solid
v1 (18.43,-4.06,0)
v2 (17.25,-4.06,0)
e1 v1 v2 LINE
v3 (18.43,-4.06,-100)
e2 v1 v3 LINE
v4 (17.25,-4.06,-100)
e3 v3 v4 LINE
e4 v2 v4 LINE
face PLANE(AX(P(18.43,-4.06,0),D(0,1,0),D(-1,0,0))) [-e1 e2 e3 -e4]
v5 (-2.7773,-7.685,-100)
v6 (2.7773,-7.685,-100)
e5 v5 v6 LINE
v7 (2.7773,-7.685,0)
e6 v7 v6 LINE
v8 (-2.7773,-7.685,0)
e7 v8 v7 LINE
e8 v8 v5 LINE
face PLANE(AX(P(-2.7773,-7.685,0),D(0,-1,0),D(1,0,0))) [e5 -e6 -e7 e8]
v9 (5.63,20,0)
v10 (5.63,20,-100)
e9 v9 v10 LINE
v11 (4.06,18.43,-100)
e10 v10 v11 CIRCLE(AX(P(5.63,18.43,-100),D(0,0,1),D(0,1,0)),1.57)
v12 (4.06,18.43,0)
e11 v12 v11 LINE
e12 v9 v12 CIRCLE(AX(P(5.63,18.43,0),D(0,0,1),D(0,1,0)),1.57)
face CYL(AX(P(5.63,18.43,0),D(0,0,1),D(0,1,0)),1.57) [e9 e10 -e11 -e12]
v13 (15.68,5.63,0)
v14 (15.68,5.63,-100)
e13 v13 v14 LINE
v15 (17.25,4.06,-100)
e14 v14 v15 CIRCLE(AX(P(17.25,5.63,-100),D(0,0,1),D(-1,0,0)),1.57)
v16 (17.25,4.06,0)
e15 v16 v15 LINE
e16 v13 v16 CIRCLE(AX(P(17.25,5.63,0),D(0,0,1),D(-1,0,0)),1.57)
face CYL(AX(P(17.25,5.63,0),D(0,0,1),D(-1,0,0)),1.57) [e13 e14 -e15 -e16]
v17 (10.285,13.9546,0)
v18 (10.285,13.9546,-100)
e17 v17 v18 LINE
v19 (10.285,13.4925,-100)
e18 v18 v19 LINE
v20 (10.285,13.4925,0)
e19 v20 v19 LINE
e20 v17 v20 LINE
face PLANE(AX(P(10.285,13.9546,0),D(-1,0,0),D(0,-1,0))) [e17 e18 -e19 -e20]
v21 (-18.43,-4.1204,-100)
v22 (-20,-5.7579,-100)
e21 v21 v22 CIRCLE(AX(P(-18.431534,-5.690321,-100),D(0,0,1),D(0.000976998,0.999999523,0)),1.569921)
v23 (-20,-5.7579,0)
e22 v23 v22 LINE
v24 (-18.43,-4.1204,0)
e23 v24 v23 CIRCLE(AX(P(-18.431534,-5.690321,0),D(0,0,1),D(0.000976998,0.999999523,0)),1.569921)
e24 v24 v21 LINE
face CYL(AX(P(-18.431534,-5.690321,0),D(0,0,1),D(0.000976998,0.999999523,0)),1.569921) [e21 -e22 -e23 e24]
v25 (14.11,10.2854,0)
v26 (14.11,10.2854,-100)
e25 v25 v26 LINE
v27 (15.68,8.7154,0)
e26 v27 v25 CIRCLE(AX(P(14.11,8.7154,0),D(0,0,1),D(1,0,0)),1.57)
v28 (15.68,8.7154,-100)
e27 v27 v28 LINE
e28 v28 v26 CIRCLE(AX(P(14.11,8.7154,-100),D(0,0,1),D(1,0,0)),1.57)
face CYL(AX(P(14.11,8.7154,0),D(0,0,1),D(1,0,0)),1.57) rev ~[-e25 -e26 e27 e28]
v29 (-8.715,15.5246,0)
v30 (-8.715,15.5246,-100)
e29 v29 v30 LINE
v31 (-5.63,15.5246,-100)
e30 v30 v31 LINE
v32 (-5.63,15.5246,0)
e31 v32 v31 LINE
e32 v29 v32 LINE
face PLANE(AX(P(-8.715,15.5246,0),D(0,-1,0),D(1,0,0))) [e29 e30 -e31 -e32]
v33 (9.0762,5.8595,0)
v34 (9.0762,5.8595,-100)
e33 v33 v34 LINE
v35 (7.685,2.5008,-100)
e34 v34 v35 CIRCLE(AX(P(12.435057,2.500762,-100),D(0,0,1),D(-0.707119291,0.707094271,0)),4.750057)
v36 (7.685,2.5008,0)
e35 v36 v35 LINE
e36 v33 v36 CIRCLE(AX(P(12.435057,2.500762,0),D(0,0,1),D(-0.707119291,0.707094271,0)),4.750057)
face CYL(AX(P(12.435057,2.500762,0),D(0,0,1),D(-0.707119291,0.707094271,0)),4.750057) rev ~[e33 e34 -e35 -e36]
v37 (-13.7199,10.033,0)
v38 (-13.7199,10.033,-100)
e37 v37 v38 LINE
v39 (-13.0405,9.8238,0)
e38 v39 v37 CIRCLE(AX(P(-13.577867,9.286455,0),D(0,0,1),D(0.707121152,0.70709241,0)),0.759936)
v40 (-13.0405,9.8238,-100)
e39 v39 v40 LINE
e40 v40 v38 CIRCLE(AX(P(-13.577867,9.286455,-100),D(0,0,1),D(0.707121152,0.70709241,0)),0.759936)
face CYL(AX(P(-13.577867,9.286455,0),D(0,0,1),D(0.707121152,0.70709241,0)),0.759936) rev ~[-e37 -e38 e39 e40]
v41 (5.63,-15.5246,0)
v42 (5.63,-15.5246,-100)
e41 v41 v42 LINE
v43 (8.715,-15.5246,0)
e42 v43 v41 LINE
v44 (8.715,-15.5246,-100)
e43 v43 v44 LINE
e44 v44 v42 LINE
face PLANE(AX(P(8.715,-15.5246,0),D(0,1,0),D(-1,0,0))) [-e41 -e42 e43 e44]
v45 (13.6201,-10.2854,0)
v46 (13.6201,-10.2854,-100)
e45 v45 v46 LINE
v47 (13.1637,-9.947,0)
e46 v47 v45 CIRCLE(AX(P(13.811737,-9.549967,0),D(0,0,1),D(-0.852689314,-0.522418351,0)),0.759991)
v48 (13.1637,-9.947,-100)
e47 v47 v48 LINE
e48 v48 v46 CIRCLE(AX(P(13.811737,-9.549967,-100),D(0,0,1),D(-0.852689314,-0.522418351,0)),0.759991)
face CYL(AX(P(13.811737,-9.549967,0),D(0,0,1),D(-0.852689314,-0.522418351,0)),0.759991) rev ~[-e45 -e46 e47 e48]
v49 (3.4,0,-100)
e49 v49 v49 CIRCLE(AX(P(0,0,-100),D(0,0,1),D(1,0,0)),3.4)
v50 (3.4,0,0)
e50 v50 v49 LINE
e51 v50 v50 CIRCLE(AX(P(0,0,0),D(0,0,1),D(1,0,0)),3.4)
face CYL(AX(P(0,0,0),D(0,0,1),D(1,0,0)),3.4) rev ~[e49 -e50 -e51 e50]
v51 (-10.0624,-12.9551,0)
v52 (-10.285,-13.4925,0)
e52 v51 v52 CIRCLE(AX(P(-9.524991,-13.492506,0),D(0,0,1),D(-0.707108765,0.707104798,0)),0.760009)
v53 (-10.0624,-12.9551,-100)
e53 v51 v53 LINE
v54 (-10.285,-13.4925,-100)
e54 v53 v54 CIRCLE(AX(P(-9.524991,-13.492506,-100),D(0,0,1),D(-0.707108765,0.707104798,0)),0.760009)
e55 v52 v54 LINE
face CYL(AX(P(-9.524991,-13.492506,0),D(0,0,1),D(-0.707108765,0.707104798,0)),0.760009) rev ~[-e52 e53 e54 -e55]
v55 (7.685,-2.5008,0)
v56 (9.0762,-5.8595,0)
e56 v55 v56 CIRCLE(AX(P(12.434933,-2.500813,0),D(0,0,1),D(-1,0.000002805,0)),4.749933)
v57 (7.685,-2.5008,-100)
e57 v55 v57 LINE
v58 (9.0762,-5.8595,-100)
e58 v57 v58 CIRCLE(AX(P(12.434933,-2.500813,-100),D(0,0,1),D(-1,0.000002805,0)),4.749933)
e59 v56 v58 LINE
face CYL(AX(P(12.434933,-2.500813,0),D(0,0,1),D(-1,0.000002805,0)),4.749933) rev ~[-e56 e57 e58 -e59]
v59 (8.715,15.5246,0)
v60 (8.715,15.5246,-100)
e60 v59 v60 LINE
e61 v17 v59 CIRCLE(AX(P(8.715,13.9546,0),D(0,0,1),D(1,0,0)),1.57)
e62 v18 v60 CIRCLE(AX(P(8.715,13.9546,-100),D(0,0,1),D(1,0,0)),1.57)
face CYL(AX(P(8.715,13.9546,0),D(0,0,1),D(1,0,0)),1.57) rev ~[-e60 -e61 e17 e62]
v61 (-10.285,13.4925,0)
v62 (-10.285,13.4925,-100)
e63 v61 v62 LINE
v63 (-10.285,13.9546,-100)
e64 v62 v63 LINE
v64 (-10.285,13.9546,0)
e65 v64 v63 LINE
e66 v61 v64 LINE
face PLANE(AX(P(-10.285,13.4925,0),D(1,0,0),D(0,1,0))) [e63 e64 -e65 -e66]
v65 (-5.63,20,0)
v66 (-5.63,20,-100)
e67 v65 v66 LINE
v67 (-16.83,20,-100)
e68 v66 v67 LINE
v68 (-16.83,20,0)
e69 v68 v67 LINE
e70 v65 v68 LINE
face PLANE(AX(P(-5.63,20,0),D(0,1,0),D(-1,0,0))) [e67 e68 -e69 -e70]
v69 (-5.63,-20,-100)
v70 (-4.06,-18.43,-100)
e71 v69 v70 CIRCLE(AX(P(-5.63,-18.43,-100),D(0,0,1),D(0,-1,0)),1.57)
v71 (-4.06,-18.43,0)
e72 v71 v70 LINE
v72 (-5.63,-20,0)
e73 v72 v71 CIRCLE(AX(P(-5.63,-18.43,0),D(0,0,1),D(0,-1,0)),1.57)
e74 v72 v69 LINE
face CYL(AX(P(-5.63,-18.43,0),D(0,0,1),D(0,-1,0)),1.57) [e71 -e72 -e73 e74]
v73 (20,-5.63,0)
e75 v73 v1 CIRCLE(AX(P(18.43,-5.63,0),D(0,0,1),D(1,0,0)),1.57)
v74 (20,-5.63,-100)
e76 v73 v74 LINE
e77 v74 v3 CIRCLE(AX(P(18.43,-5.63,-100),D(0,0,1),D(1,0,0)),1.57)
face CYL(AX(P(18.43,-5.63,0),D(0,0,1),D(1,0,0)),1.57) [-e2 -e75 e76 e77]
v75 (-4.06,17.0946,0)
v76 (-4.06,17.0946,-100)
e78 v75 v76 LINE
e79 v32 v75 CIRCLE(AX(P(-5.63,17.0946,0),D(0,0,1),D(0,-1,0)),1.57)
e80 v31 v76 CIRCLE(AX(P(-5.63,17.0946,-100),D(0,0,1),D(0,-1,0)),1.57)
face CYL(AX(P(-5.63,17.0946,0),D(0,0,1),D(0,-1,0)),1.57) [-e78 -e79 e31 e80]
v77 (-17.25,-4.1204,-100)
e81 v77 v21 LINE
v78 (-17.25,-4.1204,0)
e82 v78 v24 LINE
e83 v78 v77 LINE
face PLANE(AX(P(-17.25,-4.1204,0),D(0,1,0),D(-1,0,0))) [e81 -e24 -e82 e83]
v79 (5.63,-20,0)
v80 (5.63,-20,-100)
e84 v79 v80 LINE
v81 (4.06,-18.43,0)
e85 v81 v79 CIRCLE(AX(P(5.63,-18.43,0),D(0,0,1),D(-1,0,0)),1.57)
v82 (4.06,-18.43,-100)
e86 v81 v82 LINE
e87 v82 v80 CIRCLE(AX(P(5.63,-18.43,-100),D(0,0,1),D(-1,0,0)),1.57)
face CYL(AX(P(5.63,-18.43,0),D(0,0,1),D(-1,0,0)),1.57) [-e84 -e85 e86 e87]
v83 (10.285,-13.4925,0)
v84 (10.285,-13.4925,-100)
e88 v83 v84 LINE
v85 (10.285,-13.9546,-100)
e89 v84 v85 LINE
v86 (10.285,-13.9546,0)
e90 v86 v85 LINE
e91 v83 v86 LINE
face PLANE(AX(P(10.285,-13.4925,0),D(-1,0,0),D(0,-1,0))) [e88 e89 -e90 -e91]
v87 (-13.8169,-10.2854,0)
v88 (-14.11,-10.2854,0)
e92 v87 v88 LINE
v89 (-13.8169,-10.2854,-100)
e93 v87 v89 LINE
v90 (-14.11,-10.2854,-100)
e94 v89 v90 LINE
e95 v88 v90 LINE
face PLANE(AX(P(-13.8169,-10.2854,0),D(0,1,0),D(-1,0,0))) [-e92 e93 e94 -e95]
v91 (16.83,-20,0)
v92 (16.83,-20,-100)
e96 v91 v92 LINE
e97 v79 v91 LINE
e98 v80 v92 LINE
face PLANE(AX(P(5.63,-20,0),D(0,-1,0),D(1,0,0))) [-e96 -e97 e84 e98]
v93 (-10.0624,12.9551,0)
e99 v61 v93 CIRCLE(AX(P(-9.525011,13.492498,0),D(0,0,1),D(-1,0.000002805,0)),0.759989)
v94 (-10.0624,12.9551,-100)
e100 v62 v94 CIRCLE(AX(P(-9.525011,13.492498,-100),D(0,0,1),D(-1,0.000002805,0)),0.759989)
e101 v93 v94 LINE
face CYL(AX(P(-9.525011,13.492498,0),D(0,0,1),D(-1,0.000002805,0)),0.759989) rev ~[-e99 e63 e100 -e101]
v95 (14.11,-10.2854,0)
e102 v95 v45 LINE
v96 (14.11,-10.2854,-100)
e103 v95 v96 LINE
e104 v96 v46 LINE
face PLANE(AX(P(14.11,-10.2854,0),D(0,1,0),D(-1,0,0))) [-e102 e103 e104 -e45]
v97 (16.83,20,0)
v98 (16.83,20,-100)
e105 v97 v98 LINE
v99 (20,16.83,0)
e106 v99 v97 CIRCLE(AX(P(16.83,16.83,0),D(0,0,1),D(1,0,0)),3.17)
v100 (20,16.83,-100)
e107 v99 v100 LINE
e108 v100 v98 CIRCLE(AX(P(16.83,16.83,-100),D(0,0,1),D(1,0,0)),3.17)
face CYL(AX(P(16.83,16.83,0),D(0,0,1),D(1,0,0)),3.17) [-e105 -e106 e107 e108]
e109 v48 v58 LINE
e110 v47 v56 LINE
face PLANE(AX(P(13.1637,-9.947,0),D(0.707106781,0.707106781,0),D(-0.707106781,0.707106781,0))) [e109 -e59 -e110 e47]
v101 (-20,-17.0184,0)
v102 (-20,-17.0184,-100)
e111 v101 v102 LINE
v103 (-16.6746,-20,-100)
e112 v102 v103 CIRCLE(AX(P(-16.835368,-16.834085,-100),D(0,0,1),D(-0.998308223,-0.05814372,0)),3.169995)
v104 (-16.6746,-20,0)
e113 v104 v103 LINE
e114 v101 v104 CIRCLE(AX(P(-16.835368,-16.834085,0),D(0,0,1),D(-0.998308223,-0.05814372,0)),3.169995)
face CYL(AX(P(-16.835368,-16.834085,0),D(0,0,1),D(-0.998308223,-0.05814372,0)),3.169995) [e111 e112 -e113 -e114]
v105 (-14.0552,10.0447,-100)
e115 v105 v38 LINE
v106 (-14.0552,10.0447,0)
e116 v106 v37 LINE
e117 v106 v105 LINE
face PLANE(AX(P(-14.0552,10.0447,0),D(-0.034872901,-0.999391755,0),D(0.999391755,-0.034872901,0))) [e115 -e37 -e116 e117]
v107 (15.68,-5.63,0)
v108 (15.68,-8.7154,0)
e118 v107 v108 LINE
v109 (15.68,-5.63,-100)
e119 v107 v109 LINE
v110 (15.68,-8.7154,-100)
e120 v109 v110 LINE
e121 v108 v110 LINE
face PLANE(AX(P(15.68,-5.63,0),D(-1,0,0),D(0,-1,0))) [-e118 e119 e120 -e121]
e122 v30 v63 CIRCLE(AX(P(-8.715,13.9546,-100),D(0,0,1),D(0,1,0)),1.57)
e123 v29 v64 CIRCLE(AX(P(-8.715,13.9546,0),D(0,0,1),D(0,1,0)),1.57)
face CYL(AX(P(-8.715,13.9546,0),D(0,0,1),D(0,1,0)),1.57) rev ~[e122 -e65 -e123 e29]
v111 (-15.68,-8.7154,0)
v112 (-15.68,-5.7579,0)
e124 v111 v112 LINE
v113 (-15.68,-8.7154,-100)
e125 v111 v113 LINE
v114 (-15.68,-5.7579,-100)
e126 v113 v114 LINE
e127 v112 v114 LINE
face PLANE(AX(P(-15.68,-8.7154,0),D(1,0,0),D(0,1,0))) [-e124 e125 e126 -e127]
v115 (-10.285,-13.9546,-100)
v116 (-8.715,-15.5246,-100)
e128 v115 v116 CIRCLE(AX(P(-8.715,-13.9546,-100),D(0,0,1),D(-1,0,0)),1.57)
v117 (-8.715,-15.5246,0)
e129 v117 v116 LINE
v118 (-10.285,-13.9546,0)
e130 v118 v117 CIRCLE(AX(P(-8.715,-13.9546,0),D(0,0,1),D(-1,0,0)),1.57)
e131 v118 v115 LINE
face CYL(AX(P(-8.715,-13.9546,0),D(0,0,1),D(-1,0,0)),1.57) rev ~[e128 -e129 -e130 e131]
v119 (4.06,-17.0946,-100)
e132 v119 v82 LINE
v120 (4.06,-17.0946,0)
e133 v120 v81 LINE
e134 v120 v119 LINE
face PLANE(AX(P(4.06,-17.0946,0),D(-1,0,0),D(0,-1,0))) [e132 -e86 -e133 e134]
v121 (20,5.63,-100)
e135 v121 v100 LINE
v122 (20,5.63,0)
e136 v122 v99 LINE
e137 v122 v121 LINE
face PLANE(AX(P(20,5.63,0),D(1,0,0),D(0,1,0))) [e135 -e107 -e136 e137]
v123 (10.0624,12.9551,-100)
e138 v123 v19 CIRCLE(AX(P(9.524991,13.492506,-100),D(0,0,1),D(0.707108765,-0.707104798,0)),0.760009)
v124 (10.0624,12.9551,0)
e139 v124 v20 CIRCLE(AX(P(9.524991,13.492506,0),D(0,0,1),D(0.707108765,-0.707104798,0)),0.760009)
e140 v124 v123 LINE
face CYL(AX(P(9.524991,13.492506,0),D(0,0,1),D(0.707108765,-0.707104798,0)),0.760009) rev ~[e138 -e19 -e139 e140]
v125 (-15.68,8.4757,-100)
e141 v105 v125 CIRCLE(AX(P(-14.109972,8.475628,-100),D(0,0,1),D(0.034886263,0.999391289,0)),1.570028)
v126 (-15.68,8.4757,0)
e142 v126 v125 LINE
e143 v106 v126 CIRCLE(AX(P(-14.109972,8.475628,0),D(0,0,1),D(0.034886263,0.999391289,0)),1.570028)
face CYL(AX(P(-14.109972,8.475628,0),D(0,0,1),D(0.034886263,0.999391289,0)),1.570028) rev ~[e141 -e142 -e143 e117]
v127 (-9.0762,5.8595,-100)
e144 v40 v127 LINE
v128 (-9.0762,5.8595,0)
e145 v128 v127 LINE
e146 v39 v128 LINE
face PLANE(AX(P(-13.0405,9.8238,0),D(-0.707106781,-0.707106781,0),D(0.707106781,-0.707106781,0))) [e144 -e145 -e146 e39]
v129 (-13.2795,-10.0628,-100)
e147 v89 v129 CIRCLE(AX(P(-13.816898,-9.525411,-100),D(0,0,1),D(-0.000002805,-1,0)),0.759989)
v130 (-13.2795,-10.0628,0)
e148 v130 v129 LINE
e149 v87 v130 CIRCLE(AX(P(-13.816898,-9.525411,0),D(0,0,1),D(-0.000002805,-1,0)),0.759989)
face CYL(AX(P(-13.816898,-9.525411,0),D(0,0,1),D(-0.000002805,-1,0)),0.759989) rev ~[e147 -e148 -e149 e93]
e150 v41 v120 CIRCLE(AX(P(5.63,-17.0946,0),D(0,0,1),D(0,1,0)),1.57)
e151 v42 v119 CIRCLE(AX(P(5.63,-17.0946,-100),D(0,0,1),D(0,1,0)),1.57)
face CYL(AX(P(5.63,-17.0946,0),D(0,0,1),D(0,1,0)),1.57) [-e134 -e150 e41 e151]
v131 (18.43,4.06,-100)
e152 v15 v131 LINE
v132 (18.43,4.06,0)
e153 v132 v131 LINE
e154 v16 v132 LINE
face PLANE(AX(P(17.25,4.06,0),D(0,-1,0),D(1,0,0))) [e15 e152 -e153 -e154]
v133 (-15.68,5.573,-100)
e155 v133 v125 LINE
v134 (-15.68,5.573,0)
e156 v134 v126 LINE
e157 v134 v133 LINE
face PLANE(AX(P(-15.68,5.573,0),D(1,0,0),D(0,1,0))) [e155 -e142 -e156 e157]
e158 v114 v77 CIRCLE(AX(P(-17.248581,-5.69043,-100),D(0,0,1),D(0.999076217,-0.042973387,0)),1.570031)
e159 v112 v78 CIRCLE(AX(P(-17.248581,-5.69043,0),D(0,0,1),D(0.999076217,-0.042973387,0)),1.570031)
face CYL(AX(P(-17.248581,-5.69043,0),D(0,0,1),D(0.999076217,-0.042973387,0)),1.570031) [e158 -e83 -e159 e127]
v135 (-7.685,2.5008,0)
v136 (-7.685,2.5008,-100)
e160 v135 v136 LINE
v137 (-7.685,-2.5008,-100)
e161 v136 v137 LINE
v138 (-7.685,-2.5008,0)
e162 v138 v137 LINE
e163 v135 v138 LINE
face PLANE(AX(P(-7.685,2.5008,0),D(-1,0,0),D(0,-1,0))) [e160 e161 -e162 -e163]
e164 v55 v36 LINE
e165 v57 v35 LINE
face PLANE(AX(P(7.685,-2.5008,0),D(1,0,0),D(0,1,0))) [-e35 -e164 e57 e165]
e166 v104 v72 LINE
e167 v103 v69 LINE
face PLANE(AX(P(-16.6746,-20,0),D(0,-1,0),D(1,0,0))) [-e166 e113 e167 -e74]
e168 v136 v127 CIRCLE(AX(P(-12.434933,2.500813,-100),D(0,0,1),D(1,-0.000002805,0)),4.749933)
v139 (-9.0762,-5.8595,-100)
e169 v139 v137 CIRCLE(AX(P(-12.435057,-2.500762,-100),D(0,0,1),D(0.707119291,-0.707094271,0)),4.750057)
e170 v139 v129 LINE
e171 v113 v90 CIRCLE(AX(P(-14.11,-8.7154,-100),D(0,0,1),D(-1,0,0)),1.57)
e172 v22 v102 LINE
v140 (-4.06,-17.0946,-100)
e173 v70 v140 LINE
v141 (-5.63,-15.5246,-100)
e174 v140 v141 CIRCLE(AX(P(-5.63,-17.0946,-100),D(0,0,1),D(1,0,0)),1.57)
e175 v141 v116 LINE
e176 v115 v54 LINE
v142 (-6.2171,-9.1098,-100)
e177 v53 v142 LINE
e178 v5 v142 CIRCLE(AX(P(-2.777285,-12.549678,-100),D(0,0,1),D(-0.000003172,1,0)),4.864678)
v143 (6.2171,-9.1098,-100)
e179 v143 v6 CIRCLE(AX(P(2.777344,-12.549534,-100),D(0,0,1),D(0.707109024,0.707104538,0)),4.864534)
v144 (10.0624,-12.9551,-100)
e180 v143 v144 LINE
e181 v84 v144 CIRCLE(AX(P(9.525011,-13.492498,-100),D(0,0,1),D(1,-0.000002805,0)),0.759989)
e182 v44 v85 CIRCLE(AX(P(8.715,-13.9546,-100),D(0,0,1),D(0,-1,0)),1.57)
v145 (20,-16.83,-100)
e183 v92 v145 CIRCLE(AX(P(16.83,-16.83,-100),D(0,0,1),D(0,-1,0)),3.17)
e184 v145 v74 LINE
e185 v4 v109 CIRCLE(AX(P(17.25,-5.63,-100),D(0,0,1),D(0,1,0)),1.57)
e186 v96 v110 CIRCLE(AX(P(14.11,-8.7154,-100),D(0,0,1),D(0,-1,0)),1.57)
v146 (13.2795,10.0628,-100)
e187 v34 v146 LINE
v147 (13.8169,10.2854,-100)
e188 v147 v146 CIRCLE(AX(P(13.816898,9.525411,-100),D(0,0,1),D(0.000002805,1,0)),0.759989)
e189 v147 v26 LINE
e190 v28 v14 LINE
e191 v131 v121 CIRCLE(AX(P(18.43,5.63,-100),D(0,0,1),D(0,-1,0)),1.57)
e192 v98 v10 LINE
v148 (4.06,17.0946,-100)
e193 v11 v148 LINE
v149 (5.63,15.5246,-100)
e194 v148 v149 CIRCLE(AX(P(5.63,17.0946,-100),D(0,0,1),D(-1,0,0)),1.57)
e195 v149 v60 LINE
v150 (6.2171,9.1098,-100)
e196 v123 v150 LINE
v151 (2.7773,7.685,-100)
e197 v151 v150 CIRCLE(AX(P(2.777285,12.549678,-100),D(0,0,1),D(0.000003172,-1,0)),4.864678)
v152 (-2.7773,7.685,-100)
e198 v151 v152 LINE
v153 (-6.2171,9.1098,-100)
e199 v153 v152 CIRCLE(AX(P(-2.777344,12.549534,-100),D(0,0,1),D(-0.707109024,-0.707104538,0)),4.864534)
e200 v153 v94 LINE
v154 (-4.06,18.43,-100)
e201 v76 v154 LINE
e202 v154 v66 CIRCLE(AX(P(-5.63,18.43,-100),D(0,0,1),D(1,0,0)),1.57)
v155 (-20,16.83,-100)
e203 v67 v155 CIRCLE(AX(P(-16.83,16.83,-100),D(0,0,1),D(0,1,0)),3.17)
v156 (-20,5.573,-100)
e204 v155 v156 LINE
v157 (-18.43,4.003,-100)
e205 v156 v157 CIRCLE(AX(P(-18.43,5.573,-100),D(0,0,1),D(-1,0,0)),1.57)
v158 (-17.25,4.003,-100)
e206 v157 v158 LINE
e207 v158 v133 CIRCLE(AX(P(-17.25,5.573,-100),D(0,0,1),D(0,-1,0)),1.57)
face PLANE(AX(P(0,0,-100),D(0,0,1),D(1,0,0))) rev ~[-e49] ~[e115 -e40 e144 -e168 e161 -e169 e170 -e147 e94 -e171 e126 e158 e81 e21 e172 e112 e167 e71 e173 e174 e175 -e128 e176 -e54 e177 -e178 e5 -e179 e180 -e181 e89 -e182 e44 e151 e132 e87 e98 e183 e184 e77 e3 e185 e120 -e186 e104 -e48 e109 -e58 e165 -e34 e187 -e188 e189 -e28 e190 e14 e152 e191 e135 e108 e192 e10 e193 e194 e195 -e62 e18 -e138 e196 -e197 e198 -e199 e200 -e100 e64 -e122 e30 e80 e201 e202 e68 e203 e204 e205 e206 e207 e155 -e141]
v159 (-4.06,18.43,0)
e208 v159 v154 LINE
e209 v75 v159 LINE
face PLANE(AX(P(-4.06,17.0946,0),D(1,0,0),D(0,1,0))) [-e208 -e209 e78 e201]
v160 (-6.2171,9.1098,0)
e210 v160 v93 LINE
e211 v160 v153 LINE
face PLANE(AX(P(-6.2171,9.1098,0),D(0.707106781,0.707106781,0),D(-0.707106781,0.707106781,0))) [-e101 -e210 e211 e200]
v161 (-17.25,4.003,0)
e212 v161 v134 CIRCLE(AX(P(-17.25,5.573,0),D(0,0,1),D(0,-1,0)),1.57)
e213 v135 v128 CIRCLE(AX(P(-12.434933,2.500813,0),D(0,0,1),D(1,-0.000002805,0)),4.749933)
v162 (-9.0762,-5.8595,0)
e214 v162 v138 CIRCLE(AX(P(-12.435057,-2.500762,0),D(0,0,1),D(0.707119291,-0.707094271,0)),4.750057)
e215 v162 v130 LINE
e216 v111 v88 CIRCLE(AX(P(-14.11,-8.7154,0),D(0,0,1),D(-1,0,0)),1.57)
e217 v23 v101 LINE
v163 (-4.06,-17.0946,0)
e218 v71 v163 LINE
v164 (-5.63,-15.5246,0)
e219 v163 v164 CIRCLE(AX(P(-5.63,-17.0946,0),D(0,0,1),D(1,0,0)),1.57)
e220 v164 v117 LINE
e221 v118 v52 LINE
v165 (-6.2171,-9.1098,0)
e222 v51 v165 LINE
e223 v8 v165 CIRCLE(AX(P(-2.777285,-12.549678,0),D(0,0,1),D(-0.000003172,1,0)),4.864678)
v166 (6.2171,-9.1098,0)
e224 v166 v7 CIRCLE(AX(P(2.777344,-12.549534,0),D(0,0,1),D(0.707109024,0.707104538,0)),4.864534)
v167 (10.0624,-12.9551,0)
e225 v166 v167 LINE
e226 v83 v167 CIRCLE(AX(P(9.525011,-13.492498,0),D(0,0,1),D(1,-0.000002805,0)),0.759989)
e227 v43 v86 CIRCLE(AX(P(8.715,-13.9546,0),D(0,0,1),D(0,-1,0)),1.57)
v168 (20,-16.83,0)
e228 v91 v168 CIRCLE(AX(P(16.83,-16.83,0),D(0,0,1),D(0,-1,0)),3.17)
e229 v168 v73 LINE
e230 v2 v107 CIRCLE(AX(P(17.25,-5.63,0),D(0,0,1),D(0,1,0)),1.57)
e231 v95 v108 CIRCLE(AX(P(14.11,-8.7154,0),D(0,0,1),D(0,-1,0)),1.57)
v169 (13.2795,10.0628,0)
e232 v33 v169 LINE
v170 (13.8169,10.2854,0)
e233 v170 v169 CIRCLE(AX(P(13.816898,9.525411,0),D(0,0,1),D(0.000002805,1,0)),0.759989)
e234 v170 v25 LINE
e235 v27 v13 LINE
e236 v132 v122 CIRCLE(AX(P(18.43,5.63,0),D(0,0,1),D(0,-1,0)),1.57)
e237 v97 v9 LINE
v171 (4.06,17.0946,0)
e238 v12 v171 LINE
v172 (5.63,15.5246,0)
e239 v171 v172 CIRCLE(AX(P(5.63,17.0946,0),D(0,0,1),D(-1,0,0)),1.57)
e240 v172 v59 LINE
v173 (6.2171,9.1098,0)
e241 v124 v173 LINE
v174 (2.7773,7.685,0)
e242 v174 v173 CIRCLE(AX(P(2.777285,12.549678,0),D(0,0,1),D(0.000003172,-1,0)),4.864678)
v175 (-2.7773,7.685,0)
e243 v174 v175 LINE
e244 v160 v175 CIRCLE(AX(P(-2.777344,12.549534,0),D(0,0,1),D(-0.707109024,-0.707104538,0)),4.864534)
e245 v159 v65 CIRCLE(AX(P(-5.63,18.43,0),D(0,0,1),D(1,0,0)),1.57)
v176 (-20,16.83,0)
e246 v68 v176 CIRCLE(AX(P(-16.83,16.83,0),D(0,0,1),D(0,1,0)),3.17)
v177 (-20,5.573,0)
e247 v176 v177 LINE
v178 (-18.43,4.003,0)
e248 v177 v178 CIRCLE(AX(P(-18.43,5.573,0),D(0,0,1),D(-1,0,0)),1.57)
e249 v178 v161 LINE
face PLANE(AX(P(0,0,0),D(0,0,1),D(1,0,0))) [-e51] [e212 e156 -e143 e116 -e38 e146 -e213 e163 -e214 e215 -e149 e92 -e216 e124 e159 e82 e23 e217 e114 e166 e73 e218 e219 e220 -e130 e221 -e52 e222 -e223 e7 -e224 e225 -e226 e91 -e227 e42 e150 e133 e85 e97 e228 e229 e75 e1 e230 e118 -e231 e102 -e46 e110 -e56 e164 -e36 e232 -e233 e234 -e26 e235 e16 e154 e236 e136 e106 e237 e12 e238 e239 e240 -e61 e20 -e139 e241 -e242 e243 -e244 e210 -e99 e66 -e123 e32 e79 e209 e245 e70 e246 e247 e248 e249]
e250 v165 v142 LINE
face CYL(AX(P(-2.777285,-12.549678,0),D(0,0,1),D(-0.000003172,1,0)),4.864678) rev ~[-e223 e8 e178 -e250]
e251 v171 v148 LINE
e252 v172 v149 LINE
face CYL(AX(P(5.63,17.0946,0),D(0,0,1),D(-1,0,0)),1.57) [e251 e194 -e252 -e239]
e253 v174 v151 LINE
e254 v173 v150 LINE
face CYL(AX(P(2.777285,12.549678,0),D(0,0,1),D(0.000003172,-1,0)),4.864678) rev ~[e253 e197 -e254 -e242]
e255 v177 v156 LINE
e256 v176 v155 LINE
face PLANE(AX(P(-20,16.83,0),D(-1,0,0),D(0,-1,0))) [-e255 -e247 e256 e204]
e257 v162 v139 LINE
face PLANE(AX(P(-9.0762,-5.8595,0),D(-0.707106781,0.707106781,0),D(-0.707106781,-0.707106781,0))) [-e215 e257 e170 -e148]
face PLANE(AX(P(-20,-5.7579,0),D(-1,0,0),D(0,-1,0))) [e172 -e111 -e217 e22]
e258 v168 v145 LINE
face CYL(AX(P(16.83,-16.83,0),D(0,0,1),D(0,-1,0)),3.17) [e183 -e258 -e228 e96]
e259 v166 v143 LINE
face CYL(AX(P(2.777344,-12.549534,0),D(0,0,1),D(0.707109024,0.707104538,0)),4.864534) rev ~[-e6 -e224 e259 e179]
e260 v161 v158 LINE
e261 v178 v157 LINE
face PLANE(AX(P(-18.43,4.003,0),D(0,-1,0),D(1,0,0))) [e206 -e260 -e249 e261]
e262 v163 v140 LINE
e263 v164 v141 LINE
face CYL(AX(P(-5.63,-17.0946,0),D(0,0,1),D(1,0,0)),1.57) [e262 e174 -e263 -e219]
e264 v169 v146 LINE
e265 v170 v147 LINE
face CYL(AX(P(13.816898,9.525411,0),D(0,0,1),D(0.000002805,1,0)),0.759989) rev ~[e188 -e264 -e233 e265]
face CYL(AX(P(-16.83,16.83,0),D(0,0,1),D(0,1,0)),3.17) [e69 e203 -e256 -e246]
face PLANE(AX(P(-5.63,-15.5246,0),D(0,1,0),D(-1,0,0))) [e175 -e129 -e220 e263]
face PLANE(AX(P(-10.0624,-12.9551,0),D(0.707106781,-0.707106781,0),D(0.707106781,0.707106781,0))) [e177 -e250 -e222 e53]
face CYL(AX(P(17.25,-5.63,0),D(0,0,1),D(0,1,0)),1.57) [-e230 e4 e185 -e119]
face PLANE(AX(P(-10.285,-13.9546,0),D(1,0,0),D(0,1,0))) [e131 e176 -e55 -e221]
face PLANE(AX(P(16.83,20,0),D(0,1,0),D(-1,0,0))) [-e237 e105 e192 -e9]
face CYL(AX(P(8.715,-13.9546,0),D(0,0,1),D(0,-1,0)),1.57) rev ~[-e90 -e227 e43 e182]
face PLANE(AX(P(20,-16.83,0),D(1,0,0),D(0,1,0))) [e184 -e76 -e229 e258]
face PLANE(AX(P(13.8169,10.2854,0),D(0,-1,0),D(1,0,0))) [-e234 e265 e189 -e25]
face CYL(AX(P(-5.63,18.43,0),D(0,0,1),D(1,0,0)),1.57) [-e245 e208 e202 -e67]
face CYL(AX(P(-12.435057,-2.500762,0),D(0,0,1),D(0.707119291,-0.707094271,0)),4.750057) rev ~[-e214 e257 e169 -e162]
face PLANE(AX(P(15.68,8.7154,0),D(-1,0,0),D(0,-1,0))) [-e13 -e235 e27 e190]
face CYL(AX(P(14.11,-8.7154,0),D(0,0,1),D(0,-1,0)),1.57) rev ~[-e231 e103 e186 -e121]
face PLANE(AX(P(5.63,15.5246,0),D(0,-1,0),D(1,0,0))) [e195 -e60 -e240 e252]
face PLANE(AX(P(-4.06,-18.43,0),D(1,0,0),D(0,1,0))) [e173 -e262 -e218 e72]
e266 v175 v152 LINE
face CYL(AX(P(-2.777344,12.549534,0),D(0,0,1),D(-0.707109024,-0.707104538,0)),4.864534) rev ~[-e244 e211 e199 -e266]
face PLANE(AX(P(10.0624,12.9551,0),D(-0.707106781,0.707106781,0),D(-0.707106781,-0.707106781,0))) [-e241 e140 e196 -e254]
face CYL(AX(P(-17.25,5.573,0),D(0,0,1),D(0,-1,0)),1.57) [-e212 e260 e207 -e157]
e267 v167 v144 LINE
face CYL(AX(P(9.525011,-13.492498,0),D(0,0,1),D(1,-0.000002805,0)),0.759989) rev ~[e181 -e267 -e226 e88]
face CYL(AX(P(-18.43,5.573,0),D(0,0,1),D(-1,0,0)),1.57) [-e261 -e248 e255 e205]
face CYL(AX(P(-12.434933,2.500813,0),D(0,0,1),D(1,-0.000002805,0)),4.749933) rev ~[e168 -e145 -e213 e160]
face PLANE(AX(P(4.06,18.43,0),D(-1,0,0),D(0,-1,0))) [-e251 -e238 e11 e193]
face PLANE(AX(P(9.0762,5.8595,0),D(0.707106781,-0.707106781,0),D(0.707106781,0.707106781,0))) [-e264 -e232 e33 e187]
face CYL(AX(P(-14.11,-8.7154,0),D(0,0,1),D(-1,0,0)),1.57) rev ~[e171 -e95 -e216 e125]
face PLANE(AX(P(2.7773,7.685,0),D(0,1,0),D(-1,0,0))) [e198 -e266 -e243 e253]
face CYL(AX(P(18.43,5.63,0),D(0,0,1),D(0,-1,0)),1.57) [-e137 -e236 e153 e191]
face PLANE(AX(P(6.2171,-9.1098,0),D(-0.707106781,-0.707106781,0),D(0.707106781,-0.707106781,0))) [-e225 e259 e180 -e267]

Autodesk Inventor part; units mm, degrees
ref_plane "YZ Plane" through (0, 0, 0) normal (1, 0, 0) x (0, 1, 0)
ref_plane "XZ Plane" through (0, 0, 0) normal (0, 1, 0) x (-1, 0, 0)
ref_plane "XY Plane" through (0, 0, 0) normal (0, 0, 1) x (1, 0, 0)
sketch "Sketch1" plane through (0, 0, 0) normal (0, 0, 1) x (1, 0, 0)
  circle A0 centre (0, 0) radius 3.4
  arc A1 (-4.06, -17.0946) -> (-5.63, -15.5246) centre (-5.63, -17.0946) ccw
  line L0 (-5.63, -15.5246) -> (-8.715, -15.5246)
  arc A2 (-10.285, -13.9546) -> (-8.715, -15.5246) centre (-8.715, -13.9546) ccw
  line L1 (-10.285, -13.9546) -> (-10.285, -13.4925)
  arc A3 (-10.0624, -12.9551) -> (-10.285, -13.4925) centre (-9.525, -13.4925) ccw
  line L2 (-10.0624, -12.9551) -> (-6.2171, -9.1098)
  arc A4 (-2.7773, -7.685) -> (-6.2171, -9.1098) centre (-2.7773, -12.5496) ccw
  line L3 (-2.7773, -7.685) -> (2.7773, -7.685)
  arc A5 (6.2171, -9.1098) -> (2.7773, -7.685) centre (2.7773, -12.5496) ccw
  line L4 (6.2171, -9.1098) -> (10.0624, -12.9551)
  arc A6 (10.285, -13.4925) -> (10.0624, -12.9551) centre (9.525, -13.4925) ccw
  line L5 (10.285, -13.4925) -> (10.285, -13.9546)
  arc A7 (8.715, -15.5246) -> (10.285, -13.9546) centre (8.715, -13.9546) ccw
  line L6 (8.715, -15.5246) -> (5.63, -15.5246)
  arc A8 (5.63, -15.5246) -> (4.06, -17.0946) centre (5.63, -17.0946) ccw
  line L7 (4.06, -17.0946) -> (4.06, -18.43)
  arc A9 (4.06, -18.43) -> (5.63, -20) centre (5.63, -18.43) ccw
  line L8 (5.63, -20) -> (16.83, -20)
  arc A10 (16.83, -20) -> (20, -16.83) centre (16.83, -16.83) ccw
  line L9 (20, -16.83) -> (20, -5.63)
  arc A11 (20, -5.63) -> (18.43, -4.06) centre (18.43, -5.63) ccw
  line L10 (18.43, -4.06) -> (17.25, -4.06)
  arc A12 (17.25, -4.06) -> (15.68, -5.63) centre (17.25, -5.63) ccw
  line L11 (15.68, -5.63) -> (15.68, -8.7154)
  arc A13 (14.11, -10.2854) -> (15.68, -8.7154) centre (14.11, -8.7154) ccw
  line L12 (14.11, -10.2854) -> (13.6201, -10.2854)
  arc A14 (13.1637, -9.947) -> (13.6201, -10.2854) centre (13.8117, -9.55) ccw
  line L13 (13.1637, -9.947) -> (9.0762, -5.8595)
  arc A15 (7.685, -2.5008) -> (9.0762, -5.8595) centre (12.435, -2.5008) ccw
  line L14 (7.685, -2.5008) -> (7.685, 2.5008)
  arc A16 (9.0762, 5.8595) -> (7.685, 2.5008) centre (12.435, 2.5008) ccw
  line L15 (9.0762, 5.8595) -> (13.2795, 10.0628)
  arc A17 (13.8169, 10.2854) -> (13.2795, 10.0628) centre (13.8169, 9.5254) ccw
  line L16 (13.8169, 10.2854) -> (14.11, 10.2854)
  arc A18 (15.68, 8.7154) -> (14.11, 10.2854) centre (14.11, 8.7154) ccw
  line L17 (15.68, 8.7154) -> (15.68, 5.63)
  arc A19 (15.68, 5.63) -> (17.25, 4.06) centre (17.25, 5.63) ccw
  line L18 (17.25, 4.06) -> (18.43, 4.06)
  arc A20 (18.43, 4.06) -> (20, 5.63) centre (18.43, 5.63) ccw
  line L19 (20, 5.63) -> (20, 16.83)
  arc A21 (20, 16.83) -> (16.83, 20) centre (16.83, 16.83) ccw
  line L20 (16.83, 20) -> (5.63, 20)
  arc A22 (5.63, 20) -> (4.06, 18.43) centre (5.63, 18.43) ccw
  line L21 (4.06, 18.43) -> (4.06, 17.0946)
  arc A23 (4.06, 17.0946) -> (5.63, 15.5246) centre (5.63, 17.0946) ccw
  line L22 (5.63, 15.5246) -> (8.715, 15.5246)
  arc A24 (10.285, 13.9546) -> (8.715, 15.5246) centre (8.715, 13.9546) ccw
  line L23 (10.285, 13.9546) -> (10.285, 13.4925)
  arc A25 (10.0624, 12.9551) -> (10.285, 13.4925) centre (9.525, 13.4925) ccw
  line L24 (10.0624, 12.9551) -> (6.2171, 9.1098)
  arc A26 (2.7773, 7.685) -> (6.2171, 9.1098) centre (2.7773, 12.5496) ccw
  line L25 (2.7773, 7.685) -> (-2.7773, 7.685)
  arc A27 (-6.2171, 9.1098) -> (-2.7773, 7.685) centre (-2.7773, 12.5496) ccw
  line L26 (-6.2171, 9.1098) -> (-10.0624, 12.9551)
  arc A28 (-10.285, 13.4925) -> (-10.0624, 12.9551) centre (-9.525, 13.4925) ccw
  line L27 (-10.285, 13.4925) -> (-10.285, 13.9546)
  arc A29 (-8.715, 15.5246) -> (-10.285, 13.9546) centre (-8.715, 13.9546) ccw
  line L28 (-8.715, 15.5246) -> (-5.63, 15.5246)
  arc A30 (-5.63, 15.5246) -> (-4.06, 17.0946) centre (-5.63, 17.0946) ccw
  line L29 (-4.06, 17.0946) -> (-4.06, 18.43)
  arc A31 (-4.06, 18.43) -> (-5.63, 20) centre (-5.63, 18.43) ccw
  line L30 (-5.63, 20) -> (-16.83, 20)
  arc A32 (-16.83, 20) -> (-20, 16.83) centre (-16.83, 16.83) ccw
  line L31 (-20, 16.83) -> (-20, 5.573)
  arc A33 (-20, 5.573) -> (-18.43, 4.003) centre (-18.43, 5.573) ccw
  line L32 (-18.43, 4.003) -> (-17.25, 4.003)
  arc A34 (-17.25, 4.003) -> (-15.68, 5.573) centre (-17.25, 5.573) ccw
  line L33 (-15.68, 5.573) -> (-15.68, 8.4757)
  arc A35 (-14.0552, 10.0447) -> (-15.68, 8.4757) centre (-14.11, 8.4757) ccw
  line L34 (-14.0552, 10.0447) -> (-13.7199, 10.033)
  arc A36 (-13.0405, 9.8238) -> (-13.7199, 10.033) centre (-13.5779, 9.2864) ccw
  line L35 (-13.0405, 9.8238) -> (-9.0762, 5.8595)
  arc A37 (-7.685, 2.5008) -> (-9.0762, 5.8595) centre (-12.435, 2.5008) ccw
  line L36 (-7.685, 2.5008) -> (-7.685, -2.5008)
  arc A38 (-9.0762, -5.8595) -> (-7.685, -2.5008) centre (-12.435, -2.5008) ccw
  line L37 (-9.0762, -5.8595) -> (-13.2795, -10.0628)
  arc A39 (-13.8169, -10.2854) -> (-13.2795, -10.0628) centre (-13.8169, -9.5254) ccw
  line L38 (-13.8169, -10.2854) -> (-14.11, -10.2854)
  arc A40 (-15.68, -8.7154) -> (-14.11, -10.2854) centre (-14.11, -8.7154) ccw
  line L39 (-15.68, -8.7154) -> (-15.68, -5.7579)
  arc A41 (-15.68, -5.7579) -> (-17.25, -4.1204) centre (-17.2485, -5.6904) ccw
  line L40 (-17.25, -4.1204) -> (-18.43, -4.1204)
  arc A42 (-18.43, -4.1204) -> (-20, -5.7579) centre (-18.4315, -5.6904) ccw
  line L41 (-20, -5.7579) -> (-20, -17.0184)
  arc A43 (-20, -17.0184) -> (-16.6746, -20) centre (-16.8354, -16.8341) ccw
  line L42 (-16.6746, -20) -> (-5.63, -20)
  arc A44 (-5.63, -20) -> (-4.06, -18.43) centre (-5.63, -18.43) ccw
  line L43 (-4.06, -18.43) -> (-4.06, -17.0946)
extrude "Extrusion1" add sketch "Sketch1" against normal blind 100
properties part number "40-4040"
